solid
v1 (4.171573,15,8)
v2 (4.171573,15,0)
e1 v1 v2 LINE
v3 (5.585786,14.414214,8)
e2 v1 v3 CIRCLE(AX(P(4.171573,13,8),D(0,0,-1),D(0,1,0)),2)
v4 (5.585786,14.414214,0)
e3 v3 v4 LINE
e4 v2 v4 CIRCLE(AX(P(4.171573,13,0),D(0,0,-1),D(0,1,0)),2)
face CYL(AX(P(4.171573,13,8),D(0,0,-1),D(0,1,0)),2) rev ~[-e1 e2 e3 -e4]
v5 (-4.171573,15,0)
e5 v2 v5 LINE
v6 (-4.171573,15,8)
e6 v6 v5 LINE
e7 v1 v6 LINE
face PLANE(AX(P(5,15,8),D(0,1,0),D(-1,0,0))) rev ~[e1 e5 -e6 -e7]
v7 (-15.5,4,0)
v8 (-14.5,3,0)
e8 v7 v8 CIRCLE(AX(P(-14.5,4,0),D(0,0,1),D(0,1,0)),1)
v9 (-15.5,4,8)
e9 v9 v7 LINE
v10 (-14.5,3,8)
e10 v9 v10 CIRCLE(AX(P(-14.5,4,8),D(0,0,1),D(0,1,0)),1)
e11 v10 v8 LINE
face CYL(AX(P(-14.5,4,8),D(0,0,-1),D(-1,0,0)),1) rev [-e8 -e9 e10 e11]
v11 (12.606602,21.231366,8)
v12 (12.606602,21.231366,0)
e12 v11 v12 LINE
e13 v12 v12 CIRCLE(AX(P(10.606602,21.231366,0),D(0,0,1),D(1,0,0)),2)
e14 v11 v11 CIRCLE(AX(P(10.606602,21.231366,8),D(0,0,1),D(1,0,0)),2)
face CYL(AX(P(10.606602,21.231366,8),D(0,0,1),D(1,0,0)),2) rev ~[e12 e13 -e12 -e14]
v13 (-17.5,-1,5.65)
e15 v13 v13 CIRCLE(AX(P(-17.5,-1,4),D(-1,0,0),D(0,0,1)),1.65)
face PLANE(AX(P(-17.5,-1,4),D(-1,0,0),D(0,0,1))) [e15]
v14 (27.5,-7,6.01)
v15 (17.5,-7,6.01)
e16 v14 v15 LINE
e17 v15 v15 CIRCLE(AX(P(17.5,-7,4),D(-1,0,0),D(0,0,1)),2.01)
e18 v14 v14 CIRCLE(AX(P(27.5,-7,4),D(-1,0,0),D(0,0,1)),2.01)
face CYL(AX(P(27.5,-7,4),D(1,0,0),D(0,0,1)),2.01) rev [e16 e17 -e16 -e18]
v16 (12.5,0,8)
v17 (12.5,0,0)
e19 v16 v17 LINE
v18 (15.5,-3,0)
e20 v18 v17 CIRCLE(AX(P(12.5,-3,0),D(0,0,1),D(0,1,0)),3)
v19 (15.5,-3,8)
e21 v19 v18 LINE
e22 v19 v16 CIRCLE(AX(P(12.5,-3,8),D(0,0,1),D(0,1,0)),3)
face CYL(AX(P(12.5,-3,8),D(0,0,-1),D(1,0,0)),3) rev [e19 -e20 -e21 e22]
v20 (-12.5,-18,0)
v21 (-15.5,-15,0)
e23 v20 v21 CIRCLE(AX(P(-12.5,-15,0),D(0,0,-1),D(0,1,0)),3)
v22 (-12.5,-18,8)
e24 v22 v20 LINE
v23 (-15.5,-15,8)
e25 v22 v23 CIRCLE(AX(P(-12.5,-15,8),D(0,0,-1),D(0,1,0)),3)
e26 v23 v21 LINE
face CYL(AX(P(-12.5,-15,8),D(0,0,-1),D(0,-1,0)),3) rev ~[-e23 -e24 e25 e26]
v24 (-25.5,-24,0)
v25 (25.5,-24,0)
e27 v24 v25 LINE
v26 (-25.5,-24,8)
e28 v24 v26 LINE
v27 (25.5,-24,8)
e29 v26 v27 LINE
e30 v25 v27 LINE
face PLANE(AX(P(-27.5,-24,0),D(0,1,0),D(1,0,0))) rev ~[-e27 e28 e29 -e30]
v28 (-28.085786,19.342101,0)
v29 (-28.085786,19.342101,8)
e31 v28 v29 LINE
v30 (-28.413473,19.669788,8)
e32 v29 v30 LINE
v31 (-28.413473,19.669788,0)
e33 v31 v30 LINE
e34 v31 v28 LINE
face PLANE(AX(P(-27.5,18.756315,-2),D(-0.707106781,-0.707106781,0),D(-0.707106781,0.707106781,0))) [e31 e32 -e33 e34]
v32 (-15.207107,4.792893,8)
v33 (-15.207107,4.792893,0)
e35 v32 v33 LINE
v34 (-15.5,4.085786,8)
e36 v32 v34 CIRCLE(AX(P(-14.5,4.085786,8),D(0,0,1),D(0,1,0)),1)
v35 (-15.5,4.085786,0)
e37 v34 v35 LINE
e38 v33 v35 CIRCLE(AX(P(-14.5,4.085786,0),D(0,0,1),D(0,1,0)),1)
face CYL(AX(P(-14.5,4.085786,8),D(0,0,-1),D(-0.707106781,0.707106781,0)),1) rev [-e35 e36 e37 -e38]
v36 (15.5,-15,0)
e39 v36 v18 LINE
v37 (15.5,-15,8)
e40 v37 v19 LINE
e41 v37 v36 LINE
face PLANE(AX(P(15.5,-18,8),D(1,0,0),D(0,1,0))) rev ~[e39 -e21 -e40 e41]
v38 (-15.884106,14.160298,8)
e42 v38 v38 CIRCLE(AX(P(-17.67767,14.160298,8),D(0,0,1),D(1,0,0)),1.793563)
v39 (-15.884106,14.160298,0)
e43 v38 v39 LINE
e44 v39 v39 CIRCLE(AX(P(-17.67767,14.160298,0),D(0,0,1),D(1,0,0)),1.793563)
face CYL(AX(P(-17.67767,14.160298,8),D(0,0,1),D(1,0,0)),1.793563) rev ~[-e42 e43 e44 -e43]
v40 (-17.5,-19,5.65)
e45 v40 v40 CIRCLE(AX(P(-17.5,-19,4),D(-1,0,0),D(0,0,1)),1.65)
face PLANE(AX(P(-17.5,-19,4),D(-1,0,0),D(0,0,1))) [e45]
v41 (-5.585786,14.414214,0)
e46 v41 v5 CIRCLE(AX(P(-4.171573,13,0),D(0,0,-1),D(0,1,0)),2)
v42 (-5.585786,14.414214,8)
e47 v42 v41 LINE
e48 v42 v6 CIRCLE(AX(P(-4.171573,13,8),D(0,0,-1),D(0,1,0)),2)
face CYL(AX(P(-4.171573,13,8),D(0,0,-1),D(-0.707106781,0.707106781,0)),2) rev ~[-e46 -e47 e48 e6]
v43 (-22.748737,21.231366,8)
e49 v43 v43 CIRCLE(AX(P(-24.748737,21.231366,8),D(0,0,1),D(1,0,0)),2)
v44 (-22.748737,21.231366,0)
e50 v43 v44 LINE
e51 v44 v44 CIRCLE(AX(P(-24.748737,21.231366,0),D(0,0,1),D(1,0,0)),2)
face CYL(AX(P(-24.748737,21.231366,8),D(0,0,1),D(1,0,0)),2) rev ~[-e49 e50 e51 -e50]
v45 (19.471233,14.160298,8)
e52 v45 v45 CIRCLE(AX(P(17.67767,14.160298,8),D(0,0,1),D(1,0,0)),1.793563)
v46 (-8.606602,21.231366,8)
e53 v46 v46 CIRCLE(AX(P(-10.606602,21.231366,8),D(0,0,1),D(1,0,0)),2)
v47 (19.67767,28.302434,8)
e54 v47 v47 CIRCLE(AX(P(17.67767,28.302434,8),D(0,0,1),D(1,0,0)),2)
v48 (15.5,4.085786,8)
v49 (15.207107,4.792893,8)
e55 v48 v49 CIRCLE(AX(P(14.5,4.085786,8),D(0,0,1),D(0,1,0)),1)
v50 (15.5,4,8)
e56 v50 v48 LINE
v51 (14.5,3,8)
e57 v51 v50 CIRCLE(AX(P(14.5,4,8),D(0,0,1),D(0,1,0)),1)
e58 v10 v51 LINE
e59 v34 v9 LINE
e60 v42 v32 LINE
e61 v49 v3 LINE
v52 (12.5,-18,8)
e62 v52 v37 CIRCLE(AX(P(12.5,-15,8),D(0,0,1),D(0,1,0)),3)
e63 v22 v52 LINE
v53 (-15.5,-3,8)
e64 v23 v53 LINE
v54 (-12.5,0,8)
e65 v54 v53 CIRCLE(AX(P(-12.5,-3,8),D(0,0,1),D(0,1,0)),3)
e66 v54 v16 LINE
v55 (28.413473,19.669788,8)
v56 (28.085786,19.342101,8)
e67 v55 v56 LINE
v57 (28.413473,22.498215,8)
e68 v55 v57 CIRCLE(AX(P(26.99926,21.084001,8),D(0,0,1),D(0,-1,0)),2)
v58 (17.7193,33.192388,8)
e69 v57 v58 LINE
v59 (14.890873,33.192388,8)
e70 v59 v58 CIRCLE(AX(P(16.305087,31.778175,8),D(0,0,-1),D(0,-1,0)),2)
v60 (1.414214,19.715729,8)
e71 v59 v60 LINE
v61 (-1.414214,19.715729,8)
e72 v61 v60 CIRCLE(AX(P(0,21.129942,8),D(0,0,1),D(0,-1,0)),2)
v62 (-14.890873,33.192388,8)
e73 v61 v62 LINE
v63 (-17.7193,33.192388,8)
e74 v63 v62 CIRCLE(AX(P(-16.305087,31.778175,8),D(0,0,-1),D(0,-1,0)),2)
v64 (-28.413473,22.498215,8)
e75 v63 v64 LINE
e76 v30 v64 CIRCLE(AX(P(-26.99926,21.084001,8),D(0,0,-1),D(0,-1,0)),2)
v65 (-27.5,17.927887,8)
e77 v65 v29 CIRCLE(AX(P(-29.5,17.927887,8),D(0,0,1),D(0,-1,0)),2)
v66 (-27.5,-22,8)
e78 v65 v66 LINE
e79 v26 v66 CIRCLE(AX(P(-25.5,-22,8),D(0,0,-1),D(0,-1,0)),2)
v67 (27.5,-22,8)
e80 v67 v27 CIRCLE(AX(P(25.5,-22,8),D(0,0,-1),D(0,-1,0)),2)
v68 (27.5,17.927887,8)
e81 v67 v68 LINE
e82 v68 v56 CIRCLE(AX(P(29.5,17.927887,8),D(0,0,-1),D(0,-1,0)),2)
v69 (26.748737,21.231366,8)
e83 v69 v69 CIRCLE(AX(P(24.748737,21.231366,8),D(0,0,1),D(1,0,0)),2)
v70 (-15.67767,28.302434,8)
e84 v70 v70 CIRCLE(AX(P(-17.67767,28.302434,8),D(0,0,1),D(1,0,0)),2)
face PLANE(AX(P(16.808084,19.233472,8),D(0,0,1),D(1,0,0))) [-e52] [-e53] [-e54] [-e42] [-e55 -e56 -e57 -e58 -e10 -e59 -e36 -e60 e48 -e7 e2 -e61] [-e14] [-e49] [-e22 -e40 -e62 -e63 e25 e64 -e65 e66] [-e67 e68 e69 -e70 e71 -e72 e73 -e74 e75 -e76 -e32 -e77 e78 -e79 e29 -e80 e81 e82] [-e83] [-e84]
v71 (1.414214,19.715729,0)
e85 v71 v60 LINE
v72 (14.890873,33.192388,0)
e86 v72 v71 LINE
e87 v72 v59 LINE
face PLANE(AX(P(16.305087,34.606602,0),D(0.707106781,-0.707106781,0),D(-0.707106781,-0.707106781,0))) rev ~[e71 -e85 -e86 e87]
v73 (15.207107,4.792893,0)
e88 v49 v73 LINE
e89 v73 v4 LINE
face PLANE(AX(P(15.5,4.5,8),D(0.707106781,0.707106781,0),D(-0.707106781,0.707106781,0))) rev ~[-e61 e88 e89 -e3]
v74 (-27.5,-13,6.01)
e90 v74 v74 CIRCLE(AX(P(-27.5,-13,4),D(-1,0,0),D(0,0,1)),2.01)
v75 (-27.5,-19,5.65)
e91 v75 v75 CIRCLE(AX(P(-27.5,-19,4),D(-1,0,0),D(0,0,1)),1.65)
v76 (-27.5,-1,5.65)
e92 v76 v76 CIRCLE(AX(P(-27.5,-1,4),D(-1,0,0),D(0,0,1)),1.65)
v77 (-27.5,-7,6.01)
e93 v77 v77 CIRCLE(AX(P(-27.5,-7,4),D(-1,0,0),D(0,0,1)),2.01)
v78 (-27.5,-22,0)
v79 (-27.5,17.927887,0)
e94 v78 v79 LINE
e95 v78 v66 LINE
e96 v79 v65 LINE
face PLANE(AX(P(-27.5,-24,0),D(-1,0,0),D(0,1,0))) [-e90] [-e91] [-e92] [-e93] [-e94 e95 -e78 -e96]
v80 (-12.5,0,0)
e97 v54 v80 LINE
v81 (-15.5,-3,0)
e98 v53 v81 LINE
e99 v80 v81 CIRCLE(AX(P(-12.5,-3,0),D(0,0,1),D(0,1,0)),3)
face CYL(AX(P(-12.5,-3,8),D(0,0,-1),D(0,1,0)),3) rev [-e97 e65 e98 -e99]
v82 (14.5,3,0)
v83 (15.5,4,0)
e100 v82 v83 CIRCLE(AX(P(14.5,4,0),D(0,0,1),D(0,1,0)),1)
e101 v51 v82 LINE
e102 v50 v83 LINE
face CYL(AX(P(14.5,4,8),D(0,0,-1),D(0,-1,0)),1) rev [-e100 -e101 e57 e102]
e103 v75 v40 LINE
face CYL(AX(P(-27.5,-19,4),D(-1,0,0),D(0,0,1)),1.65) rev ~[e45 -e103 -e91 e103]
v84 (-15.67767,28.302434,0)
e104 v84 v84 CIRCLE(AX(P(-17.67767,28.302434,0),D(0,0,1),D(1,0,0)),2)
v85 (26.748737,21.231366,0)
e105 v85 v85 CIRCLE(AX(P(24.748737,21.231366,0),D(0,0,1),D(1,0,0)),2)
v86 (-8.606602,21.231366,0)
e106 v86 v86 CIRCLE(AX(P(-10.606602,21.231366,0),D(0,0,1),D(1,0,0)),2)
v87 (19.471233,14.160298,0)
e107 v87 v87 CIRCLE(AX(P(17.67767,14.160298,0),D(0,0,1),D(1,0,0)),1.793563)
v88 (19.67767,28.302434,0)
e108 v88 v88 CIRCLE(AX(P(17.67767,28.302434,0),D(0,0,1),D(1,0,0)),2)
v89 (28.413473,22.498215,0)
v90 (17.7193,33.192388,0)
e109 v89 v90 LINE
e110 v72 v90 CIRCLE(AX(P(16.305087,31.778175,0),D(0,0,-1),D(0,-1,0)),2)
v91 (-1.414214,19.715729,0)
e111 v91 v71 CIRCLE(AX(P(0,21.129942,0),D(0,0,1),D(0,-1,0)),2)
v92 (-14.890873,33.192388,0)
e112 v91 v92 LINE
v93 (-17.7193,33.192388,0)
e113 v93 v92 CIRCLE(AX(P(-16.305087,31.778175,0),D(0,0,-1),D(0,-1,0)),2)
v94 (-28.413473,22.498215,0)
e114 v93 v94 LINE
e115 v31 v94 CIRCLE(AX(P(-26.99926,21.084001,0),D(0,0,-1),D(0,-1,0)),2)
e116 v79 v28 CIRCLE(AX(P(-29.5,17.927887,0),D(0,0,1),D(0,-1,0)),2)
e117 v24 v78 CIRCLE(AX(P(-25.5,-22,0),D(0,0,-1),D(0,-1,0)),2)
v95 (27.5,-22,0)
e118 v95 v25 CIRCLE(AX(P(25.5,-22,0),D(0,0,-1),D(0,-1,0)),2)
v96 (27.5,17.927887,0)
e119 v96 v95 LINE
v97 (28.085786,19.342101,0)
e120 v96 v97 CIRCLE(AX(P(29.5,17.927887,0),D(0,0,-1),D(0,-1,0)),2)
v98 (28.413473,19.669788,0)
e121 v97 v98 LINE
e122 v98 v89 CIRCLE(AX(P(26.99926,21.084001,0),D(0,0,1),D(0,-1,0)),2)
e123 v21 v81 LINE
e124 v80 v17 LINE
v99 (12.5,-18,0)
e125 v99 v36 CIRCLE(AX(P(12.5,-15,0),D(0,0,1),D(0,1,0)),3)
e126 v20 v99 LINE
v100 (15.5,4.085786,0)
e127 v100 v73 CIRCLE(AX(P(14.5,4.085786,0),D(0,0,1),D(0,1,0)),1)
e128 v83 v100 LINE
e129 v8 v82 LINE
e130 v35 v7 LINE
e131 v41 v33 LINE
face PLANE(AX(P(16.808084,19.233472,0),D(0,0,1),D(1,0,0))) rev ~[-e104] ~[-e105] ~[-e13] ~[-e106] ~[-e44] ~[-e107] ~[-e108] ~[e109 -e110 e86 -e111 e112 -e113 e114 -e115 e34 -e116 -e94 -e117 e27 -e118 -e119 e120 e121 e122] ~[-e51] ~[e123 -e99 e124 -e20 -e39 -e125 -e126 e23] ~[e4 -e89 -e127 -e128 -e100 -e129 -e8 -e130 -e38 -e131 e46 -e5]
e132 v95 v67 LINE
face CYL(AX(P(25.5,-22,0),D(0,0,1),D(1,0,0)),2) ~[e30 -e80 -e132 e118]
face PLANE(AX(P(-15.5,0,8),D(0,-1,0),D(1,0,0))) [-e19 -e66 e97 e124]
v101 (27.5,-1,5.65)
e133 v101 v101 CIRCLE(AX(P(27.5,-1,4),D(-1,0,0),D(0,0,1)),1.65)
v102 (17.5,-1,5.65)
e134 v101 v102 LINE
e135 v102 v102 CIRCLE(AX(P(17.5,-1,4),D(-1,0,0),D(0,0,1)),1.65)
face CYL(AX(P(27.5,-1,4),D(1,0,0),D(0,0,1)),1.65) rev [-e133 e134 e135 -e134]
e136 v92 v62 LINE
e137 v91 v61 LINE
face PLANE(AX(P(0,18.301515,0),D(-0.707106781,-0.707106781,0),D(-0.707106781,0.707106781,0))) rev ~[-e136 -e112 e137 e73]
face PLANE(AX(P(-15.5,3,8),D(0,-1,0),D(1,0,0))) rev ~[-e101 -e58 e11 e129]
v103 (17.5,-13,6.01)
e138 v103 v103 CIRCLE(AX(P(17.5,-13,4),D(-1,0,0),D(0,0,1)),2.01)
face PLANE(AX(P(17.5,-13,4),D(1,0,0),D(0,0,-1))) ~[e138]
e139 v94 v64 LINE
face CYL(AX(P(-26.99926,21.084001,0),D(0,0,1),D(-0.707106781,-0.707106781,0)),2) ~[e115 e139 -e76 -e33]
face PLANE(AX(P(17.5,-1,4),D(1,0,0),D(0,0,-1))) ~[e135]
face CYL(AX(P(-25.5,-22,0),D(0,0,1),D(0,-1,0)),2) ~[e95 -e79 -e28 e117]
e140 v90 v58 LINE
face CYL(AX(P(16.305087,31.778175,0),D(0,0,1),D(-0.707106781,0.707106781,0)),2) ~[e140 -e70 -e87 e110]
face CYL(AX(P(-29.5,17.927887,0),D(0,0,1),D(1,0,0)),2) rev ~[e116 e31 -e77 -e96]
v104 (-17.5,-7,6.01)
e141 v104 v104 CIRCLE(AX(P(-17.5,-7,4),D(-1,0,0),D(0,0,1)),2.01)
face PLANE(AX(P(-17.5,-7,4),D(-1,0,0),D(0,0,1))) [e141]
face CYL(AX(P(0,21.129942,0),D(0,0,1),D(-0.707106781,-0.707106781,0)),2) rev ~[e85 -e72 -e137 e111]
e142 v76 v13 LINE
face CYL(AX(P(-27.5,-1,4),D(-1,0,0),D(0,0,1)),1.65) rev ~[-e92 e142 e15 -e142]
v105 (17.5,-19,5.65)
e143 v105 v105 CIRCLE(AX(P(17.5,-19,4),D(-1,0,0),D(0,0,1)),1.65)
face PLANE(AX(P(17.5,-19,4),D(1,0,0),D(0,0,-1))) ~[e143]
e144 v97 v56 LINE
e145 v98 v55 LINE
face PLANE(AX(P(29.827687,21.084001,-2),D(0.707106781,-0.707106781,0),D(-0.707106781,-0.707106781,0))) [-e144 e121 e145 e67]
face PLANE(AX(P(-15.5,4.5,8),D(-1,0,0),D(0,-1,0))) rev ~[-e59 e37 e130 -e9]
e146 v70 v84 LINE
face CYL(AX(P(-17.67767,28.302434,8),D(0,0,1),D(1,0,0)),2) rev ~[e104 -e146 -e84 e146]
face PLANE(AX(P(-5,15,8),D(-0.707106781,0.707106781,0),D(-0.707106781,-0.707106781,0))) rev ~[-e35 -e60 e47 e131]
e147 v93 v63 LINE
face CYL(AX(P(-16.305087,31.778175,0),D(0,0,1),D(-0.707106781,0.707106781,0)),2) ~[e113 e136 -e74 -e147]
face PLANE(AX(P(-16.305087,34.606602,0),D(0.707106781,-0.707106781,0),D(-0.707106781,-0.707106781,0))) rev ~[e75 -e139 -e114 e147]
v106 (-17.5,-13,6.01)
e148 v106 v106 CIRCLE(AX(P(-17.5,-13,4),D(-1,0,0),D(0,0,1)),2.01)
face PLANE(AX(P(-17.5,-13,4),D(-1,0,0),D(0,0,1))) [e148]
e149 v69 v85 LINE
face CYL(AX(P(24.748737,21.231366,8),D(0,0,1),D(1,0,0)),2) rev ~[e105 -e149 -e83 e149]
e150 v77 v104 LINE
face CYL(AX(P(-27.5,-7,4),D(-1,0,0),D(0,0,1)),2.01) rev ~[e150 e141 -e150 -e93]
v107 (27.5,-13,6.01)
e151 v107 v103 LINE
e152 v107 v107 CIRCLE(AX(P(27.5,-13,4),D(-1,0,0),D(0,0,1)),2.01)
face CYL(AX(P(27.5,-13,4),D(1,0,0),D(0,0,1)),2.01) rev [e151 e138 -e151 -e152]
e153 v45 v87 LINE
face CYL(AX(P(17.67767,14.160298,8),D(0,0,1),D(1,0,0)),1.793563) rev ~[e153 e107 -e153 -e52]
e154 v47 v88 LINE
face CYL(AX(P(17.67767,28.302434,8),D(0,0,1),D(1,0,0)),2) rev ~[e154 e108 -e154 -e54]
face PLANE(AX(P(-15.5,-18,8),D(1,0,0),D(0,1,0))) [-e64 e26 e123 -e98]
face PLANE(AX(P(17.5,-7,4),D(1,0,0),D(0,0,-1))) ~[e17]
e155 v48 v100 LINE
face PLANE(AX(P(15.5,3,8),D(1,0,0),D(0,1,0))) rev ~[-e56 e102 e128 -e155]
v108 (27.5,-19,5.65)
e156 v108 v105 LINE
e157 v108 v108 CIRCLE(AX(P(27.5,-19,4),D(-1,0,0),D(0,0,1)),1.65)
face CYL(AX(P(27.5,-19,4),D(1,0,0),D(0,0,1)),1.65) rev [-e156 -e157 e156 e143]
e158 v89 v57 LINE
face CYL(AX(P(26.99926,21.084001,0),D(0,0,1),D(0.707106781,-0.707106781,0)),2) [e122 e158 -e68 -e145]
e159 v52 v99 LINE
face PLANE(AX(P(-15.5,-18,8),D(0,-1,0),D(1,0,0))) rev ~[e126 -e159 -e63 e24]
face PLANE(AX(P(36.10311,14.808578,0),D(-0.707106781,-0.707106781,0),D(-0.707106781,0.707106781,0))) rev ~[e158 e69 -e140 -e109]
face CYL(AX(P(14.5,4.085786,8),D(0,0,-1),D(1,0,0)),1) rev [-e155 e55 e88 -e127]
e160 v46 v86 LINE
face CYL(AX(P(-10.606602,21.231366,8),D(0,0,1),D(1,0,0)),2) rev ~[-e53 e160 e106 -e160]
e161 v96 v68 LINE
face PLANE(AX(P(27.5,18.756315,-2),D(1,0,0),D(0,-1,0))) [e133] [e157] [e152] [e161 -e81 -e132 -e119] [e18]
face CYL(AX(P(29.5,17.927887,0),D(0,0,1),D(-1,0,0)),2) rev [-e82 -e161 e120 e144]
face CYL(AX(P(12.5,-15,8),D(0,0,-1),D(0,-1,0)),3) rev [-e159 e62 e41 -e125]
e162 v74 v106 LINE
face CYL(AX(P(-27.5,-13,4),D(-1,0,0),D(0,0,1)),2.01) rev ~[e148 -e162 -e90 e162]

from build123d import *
from OCP.BRepFilletAPI import BRepFilletAPI_MakeFillet

# Parameters (mm, degrees)
SKETCH_1_W          = 55
SKETCH_1_H          = 48
EXTRUDE_1_DEPTH     = 8
SKETCH_2_R          = 1.65
SKETCH_2_R_2        = 2.01
CUT_EXTRUDE_1_DEPTH = 10
SKETCH_4_W          = 5
SKETCH_4_H          = 18
EXTRUDE_2_DEPTH     = 8
CUT_EXTRUDE_2_DEPTH = 8
SKETCH_5_R          = 1.25
CUT_EXTRUDE_3_DEPTH = 8
SKETCH_6_W          = 31
SKETCH_6_H          = 18
CUT_EXTRUDE_4_DEPTH = 8
FILLET_1_R1         = 2
FILLET_1_R2         = 3
FILLET_1_R3         = 5
SKETCH_7_R          = 1.25
EXTRUDE_3_DEPTH     = 8
EXTRUDE_START       = -8
EXTRUDE_4_DEPTH     = 8
CUT_EXTRUDE_START   = -10
CUT_EXTRUDE_6_DEPTH = 10
CUT_EXTRUDE_7_DEPTH = 10
FILLET_4_R          = 2
FILLET_5_R          = 2
FILLET_6_R          = 2
FILLET_7_R          = 1
FILLET_8_R          = 2
SKETCH_13_R         = 2
SKETCH_13_R_2       = 1.793563064
CUT_EXTRUDE_8_DEPTH = 10


with BuildPart() as part:
    # 草图1 → 凸台-拉伸1 (new body)
    with BuildSketch(Plane.XY):
        Rectangle(SKETCH_1_W, SKETCH_1_H)
    extrude(amount=EXTRUDE_1_DEPTH)

    # 草图2 → 切除-拉伸1 (cut)
    with BuildSketch(Plane.ZY.offset(27.5)):
        with Locations((4, -19)):
            Circle(SKETCH_2_R)
        with Locations((4, -1)):
            Circle(SKETCH_2_R)
        with Locations((4, -13)):
            Circle(SKETCH_2_R_2)
        with Locations((4, -7)):
            Circle(SKETCH_2_R_2)
    cut_extrude_1 = extrude(amount=-CUT_EXTRUDE_1_DEPTH, mode=Mode.SUBTRACT)

    # 镜向1: 切除-拉伸1 across plane
    add(cut_extrude_1.mirror(Plane(origin=(0, 0, 0), x_dir=(0, 0, 1), z_dir=(1, 0, 0))), mode=Mode.SUBTRACT)

    # 草图4 → 凸台-拉伸2 (add)
    with BuildSketch(Plane.XY.offset(8)):
        with Locations((30, 15)):
            Rectangle(SKETCH_4_W, SKETCH_4_H)
        with Locations((-30, 15)):
            Rectangle(SKETCH_4_W, SKETCH_4_H)
    extrude(amount=-EXTRUDE_2_DEPTH)

    # 草图3 → 切除-拉伸2 (cut)
    with BuildSketch(Plane.XY.offset(8)):
        Polygon((-32.5, 11.340620434), (-19.840620434, 24), (-32.5, 24), align=None)
        Polygon((32.5, 24), (19.840620434, 24), (32.5, 11.340620434), align=None)
    extrude(amount=-CUT_EXTRUDE_2_DEPTH, mode=Mode.SUBTRACT)

    # 草图5 → 切除-拉伸3 (cut)
    with BuildSketch(Plane.XY.offset(8)):
        with Locations((19.084414101, 19.071067812)):
            Circle(SKETCH_5_R)
        with Locations((26.155481913, 12)):
            Circle(SKETCH_5_R)
        with Locations((19.084414101, 4.928932188)):
            Circle(SKETCH_5_R)
        with Locations((12.013346289, 12)):
            Circle(SKETCH_5_R)
        with Locations(Location((-12.013346289, 12, 0), (0, 0, 180))):
            Circle(SKETCH_5_R)
        with Locations(Location((-19.084414101, 4.928932188, 0), (0, 0, 180))):
            Circle(SKETCH_5_R)
        with Locations(Location((-26.155481913, 12, 0), (0, 0, 180))):
            Circle(SKETCH_5_R)
        with Locations(Location((-19.084414101, 19.071067812, 0), (0, 0, 180))):
            Circle(SKETCH_5_R)
        Polygon((14.841773414, 12), (19.084414101, 16.242640687), (23.327054788, 12), (19.084414101, 7.757359313), align=None)
        Polygon((-19.084414101, 16.242640687), (-23.327054788, 12), (-19.084414101, 7.757359313), (-14.841773414, 12), align=None)
    extrude(amount=-CUT_EXTRUDE_3_DEPTH, mode=Mode.SUBTRACT)

    # 草图6 → 切除-拉伸4 (cut)
    with BuildSketch(Plane.XY.offset(8)):
        with Locations((0, -9)):
            Rectangle(SKETCH_6_W, SKETCH_6_H)
        Polygon((-19.840620434, 24), (0, 4.159379566), (19.840620434, 24), align=None)
        Polygon((32.5, 11.340620434), (27.5, 6), (32.5, 6), align=None)
        Polygon((-32.5, 11.340620434), (-32.5, 6), (-27.5, 6), align=None)
    extrude(amount=-CUT_EXTRUDE_4_DEPTH, mode=Mode.SUBTRACT)

    # 圆角1: one fillet with a radius per group of edges: ONE call of the kernel's fillet builder (fillet() takes one radius for all edges)
    fillet_1_edges_1 = [part.edges().sort_by_distance(p)[0] for p in [
        (-27.5, -24, 4),
        (27.5, -24, 4),
        (-19.084414101, 16.242640687, 4),
        (-14.841773414, 12, 4),
        (-23.327054788, 12, 4),
        (-19.084414101, 7.757359313, 4),
        (14.841773414, 12, 4),
        (19.084414101, 7.757359313, 4),
        (23.327054788, 12, 4),
        (19.084414101, 16.242640687, 4),
    ]]
    fillet_1_edges_2 = [part.edges().sort_by_distance(p)[0] for p in [
        (32.5, 11.340620434, 4),
        (19.840620434, 24, 4),
        (-19.840620434, 24, 4),
        (-32.5, 11.340620434, 4),
        (-27.5, 6, 4),
        (27.5, 6, 4),
        (15.5, 0, 4),
        (-15.5, 0, 4),
        (-15.5, -18, 4),
        (15.5, -18, 4),
    ]]
    fillet_1_edges_3 = [part.edges().sort_by_distance(p)[0] for p in [
        (0, 4.159379566, 4),
    ]]
    fillet_1 = BRepFilletAPI_MakeFillet(part.part.solid().wrapped)
    for e in fillet_1_edges_1:
        fillet_1.Add(FILLET_1_R1, e.wrapped)
    for e in fillet_1_edges_2:
        fillet_1.Add(FILLET_1_R2, e.wrapped)
    for e in fillet_1_edges_3:
        fillet_1.Add(FILLET_1_R3, e.wrapped)
    add(Compound.cast(fillet_1.Shape()), mode=Mode.REPLACE)

    # 草图7 → 凸台-拉伸3 (add)
    with BuildSketch(Plane.XY.offset(8)):
        with Locations((19.084414101, 19.071067812)):
            Circle(SKETCH_7_R)
        with Locations((-26.155481913, 12)):
            Circle(SKETCH_7_R)
        with Locations((-19.084414101, 4.928932188)):
            Circle(SKETCH_7_R)
        with Locations((-19.084414101, 19.071067812)):
            Circle(SKETCH_7_R)
        with Locations((-12.013346289, 12)):
            Circle(SKETCH_7_R)
        with Locations((12.013346289, 12)):
            Circle(SKETCH_7_R)
        with Locations((19.084414101, 4.928932188)):
            Circle(SKETCH_7_R)
        with Locations((26.155481913, 12)):
            Circle(SKETCH_7_R)
        with BuildLine():
            Line((-16.255986976, 13.414213562), (-17.670200539, 14.828427125))
            ThreePointArc((-17.670200539, 14.828427125), (-19.084414101, 15.414213562), (-20.498627663, 14.828427125))
            Line((-20.498627663, 14.828427125), (-21.912841226, 13.414213562))
            ThreePointArc((-21.912841226, 13.414213562), (-22.498627663, 12), (-21.912841226, 10.585786438))
            Line((-21.912841226, 10.585786438), (-20.498627663, 9.171572875))
            ThreePointArc((-20.498627663, 9.171572875), (-19.084414101, 8.585786438), (-17.670200539, 9.171572875))
            Line((-17.670200539, 9.171572875), (-16.255986976, 10.585786438))
            ThreePointArc((-16.255986976, 10.585786438), (-15.670200539, 12), (-16.255986976, 13.414213562))
        make_face()
        with BuildLine():
            Line((16.255986976, 10.585786438), (17.670200539, 9.171572875))
            ThreePointArc((17.670200539, 9.171572875), (19.084414101, 8.585786438), (20.498627663, 9.171572875))
            Line((20.498627663, 9.171572875), (21.912841226, 10.585786438))
            ThreePointArc((21.912841226, 10.585786438), (22.498627663, 12), (21.912841226, 13.414213562))
            Line((21.912841226, 13.414213562), (20.498627663, 14.828427125))
            ThreePointArc((20.498627663, 14.828427125), (19.084414101, 15.414213562), (17.670200539, 14.828427125))
            Line((17.670200539, 14.828427125), (16.255986976, 13.414213562))
            ThreePointArc((16.255986976, 13.414213562), (15.670200539, 12), (16.255986976, 10.585786438))
        make_face()
    extrude(amount=-EXTRUDE_3_DEPTH)

    # 草图9 → 凸台-拉伸4 (add)
    with BuildSketch(Plane.XY.offset(8).offset(EXTRUDE_START)):
        with BuildLine():
            ThreePointArc((30.447405477, 13.393214957), (31.325678544, 11.32128458), (30.516094042, 9.221562694))
            Line((30.516094042, 9.221562694), (36.103109797, 14.808578449))
            Line((36.103109797, 14.808578449), (16.305086528, 34.606601718))
            Line((16.305086528, 34.606601718), (0, 18.30151519))
            Line((0, 18.30151519), (0, 6.230447378))
            ThreePointArc((0, 6.230447378), (1.913417162, 6.611049716), (3.535533906, 7.694913472))
            Line((3.535533906, 7.694913472), (17.71930009, 21.878679656))
            ThreePointArc((17.71930009, 21.878679656), (19.840620434, 22.757359313), (21.961940777, 21.878679656))
            Line((21.961940777, 21.878679656), (30.447405477, 13.393214957))
        make_face()
        with BuildLine():
            Line((0, 6.230447378), (0, 18.30151519))
            Line((0, 18.30151519), (-16.305086528, 34.606601718))
            Line((-16.305086528, 34.606601718), (-36.103109797, 14.808578449))
            Line((-36.103109797, 14.808578449), (-30.516094042, 9.221562694))
            ThreePointArc((-30.516094042, 9.221562694), (-31.325678544, 11.32128458), (-30.447405477, 13.393214957))
            Line((-30.447405477, 13.393214957), (-21.961940777, 21.878679656))
            ThreePointArc((-21.961940777, 21.878679656), (-19.840620434, 22.757359313), (-17.71930009, 21.878679656))
            Line((-17.71930009, 21.878679656), (-3.535533906, 7.694913472))
            ThreePointArc((-3.535533906, 7.694913472), (-1.913417162, 6.611049716), (0, 6.230447378))
        make_face()
    extrude(amount=EXTRUDE_4_DEPTH)

    # 草图10 → 切除-拉伸6 (cut)
    with BuildSketch(Plane.XY.offset(8).offset(CUT_EXTRUDE_START)):
        with BuildLine():
            Line((27.5, 18.756314603), (27.5, 4.814839075))
            ThreePointArc((27.5, 4.814839075), (27.70983632, 5.917103398), (28.309991091, 6.865170995))
            Line((28.309991091, 6.865170995), (30.516094042, 9.221562694))
            Line((30.516094042, 9.221562694), (36.103109797, 14.808578449))
            Line((36.103109797, 14.808578449), (29.827686821, 21.084001424))
            Line((29.827686821, 21.084001424), (27.5, 18.756314603))
        make_face()
        with BuildLine():
            ThreePointArc((-28.309991091, 6.865170995), (-27.70983632, 5.917103398), (-27.5, 4.814839075))
            Line((-27.5, 4.814839075), (-27.5, 18.756314603))
            Line((-27.5, 18.756314603), (-29.827686821, 21.084001424))
            Line((-29.827686821, 21.084001424), (-36.103109797, 14.808578449))
            Line((-36.103109797, 14.808578449), (-30.516094042, 9.221562694))
            Line((-30.516094042, 9.221562694), (-28.309991091, 6.865170995))
        make_face()
    extrude(amount=CUT_EXTRUDE_6_DEPTH, mode=Mode.SUBTRACT)

    # 草图11 → 切除-拉伸7 (cut)
    with BuildSketch(Plane.XY.offset(8)):
        Polygon((-5, 15), (-15.5, 4.5), (-15.5, 3), (15.5, 3), (15.5, 4.5), (5, 15), align=None)
    extrude(amount=-CUT_EXTRUDE_7_DEPTH, mode=Mode.SUBTRACT)

    # 圆角4
    fillet_4_edges = [part.edges().sort_by_distance(p)[0] for p in [
        (-27.5, 18.756314603, 4),
    ]]
    fillet(fillet_4_edges, radius=FILLET_4_R)

    # 圆角5
    fillet_5_edges = [part.edges().sort_by_distance(p)[0] for p in [
        (-16.305086528, 34.606601718, 4),
        (16.305086528, 34.606601718, 4),
        (0, 18.30151519, 4),
        (29.827686821, 21.084001424, 4),
        (-29.827686821, 21.084001424, 4),
    ]]
    fillet(fillet_5_edges, radius=FILLET_5_R)

    # 圆角6
    fillet_6_edges = [part.edges().sort_by_distance(p)[0] for p in [
        (27.5, 18.756314603, 4),
    ]]
    fillet(fillet_6_edges, radius=FILLET_6_R)

    # 圆角7
    fillet_7_edges = [part.edges().sort_by_distance(p)[0] for p in [
        (15.5, 4.5, 4),
        (15.5, 3, 4),
        (-15.5, 3, 4),
        (-15.5, 4.5, 4),
    ]]
    fillet(fillet_7_edges, radius=FILLET_7_R)

    # 圆角8
    fillet_8_edges = [part.edges().sort_by_distance(p)[0] for p in [
        (-5, 15, 4),
        (5, 15, 4),
    ]]
    fillet(fillet_8_edges, radius=FILLET_8_R)

    # 草图13 → 切除-拉伸8 (cut)
    with BuildSketch(Plane.XY.offset(8)):
        with Locations((17.67766953, 28.302433917)):
            Circle(SKETCH_13_R)
        with Locations((24.748737342, 21.231366105)):
            Circle(SKETCH_13_R)
        with Locations((17.67766953, 14.160298293)):
            Circle(SKETCH_13_R_2)
        with Locations((10.606601718, 21.231366105)):
            Circle(SKETCH_13_R)
        with Locations((-10.606601718, 21.231366105)):
            Circle(SKETCH_13_R)
        with Locations((-17.67766953, 14.160298293)):
            Circle(SKETCH_13_R_2)
        with Locations((-24.748737342, 21.231366105)):
            Circle(SKETCH_13_R)
        with Locations((-17.67766953, 28.302433917)):
            Circle(SKETCH_13_R)
    extrude(amount=-CUT_EXTRUDE_8_DEPTH, mode=Mode.SUBTRACT)


solid = part.part
